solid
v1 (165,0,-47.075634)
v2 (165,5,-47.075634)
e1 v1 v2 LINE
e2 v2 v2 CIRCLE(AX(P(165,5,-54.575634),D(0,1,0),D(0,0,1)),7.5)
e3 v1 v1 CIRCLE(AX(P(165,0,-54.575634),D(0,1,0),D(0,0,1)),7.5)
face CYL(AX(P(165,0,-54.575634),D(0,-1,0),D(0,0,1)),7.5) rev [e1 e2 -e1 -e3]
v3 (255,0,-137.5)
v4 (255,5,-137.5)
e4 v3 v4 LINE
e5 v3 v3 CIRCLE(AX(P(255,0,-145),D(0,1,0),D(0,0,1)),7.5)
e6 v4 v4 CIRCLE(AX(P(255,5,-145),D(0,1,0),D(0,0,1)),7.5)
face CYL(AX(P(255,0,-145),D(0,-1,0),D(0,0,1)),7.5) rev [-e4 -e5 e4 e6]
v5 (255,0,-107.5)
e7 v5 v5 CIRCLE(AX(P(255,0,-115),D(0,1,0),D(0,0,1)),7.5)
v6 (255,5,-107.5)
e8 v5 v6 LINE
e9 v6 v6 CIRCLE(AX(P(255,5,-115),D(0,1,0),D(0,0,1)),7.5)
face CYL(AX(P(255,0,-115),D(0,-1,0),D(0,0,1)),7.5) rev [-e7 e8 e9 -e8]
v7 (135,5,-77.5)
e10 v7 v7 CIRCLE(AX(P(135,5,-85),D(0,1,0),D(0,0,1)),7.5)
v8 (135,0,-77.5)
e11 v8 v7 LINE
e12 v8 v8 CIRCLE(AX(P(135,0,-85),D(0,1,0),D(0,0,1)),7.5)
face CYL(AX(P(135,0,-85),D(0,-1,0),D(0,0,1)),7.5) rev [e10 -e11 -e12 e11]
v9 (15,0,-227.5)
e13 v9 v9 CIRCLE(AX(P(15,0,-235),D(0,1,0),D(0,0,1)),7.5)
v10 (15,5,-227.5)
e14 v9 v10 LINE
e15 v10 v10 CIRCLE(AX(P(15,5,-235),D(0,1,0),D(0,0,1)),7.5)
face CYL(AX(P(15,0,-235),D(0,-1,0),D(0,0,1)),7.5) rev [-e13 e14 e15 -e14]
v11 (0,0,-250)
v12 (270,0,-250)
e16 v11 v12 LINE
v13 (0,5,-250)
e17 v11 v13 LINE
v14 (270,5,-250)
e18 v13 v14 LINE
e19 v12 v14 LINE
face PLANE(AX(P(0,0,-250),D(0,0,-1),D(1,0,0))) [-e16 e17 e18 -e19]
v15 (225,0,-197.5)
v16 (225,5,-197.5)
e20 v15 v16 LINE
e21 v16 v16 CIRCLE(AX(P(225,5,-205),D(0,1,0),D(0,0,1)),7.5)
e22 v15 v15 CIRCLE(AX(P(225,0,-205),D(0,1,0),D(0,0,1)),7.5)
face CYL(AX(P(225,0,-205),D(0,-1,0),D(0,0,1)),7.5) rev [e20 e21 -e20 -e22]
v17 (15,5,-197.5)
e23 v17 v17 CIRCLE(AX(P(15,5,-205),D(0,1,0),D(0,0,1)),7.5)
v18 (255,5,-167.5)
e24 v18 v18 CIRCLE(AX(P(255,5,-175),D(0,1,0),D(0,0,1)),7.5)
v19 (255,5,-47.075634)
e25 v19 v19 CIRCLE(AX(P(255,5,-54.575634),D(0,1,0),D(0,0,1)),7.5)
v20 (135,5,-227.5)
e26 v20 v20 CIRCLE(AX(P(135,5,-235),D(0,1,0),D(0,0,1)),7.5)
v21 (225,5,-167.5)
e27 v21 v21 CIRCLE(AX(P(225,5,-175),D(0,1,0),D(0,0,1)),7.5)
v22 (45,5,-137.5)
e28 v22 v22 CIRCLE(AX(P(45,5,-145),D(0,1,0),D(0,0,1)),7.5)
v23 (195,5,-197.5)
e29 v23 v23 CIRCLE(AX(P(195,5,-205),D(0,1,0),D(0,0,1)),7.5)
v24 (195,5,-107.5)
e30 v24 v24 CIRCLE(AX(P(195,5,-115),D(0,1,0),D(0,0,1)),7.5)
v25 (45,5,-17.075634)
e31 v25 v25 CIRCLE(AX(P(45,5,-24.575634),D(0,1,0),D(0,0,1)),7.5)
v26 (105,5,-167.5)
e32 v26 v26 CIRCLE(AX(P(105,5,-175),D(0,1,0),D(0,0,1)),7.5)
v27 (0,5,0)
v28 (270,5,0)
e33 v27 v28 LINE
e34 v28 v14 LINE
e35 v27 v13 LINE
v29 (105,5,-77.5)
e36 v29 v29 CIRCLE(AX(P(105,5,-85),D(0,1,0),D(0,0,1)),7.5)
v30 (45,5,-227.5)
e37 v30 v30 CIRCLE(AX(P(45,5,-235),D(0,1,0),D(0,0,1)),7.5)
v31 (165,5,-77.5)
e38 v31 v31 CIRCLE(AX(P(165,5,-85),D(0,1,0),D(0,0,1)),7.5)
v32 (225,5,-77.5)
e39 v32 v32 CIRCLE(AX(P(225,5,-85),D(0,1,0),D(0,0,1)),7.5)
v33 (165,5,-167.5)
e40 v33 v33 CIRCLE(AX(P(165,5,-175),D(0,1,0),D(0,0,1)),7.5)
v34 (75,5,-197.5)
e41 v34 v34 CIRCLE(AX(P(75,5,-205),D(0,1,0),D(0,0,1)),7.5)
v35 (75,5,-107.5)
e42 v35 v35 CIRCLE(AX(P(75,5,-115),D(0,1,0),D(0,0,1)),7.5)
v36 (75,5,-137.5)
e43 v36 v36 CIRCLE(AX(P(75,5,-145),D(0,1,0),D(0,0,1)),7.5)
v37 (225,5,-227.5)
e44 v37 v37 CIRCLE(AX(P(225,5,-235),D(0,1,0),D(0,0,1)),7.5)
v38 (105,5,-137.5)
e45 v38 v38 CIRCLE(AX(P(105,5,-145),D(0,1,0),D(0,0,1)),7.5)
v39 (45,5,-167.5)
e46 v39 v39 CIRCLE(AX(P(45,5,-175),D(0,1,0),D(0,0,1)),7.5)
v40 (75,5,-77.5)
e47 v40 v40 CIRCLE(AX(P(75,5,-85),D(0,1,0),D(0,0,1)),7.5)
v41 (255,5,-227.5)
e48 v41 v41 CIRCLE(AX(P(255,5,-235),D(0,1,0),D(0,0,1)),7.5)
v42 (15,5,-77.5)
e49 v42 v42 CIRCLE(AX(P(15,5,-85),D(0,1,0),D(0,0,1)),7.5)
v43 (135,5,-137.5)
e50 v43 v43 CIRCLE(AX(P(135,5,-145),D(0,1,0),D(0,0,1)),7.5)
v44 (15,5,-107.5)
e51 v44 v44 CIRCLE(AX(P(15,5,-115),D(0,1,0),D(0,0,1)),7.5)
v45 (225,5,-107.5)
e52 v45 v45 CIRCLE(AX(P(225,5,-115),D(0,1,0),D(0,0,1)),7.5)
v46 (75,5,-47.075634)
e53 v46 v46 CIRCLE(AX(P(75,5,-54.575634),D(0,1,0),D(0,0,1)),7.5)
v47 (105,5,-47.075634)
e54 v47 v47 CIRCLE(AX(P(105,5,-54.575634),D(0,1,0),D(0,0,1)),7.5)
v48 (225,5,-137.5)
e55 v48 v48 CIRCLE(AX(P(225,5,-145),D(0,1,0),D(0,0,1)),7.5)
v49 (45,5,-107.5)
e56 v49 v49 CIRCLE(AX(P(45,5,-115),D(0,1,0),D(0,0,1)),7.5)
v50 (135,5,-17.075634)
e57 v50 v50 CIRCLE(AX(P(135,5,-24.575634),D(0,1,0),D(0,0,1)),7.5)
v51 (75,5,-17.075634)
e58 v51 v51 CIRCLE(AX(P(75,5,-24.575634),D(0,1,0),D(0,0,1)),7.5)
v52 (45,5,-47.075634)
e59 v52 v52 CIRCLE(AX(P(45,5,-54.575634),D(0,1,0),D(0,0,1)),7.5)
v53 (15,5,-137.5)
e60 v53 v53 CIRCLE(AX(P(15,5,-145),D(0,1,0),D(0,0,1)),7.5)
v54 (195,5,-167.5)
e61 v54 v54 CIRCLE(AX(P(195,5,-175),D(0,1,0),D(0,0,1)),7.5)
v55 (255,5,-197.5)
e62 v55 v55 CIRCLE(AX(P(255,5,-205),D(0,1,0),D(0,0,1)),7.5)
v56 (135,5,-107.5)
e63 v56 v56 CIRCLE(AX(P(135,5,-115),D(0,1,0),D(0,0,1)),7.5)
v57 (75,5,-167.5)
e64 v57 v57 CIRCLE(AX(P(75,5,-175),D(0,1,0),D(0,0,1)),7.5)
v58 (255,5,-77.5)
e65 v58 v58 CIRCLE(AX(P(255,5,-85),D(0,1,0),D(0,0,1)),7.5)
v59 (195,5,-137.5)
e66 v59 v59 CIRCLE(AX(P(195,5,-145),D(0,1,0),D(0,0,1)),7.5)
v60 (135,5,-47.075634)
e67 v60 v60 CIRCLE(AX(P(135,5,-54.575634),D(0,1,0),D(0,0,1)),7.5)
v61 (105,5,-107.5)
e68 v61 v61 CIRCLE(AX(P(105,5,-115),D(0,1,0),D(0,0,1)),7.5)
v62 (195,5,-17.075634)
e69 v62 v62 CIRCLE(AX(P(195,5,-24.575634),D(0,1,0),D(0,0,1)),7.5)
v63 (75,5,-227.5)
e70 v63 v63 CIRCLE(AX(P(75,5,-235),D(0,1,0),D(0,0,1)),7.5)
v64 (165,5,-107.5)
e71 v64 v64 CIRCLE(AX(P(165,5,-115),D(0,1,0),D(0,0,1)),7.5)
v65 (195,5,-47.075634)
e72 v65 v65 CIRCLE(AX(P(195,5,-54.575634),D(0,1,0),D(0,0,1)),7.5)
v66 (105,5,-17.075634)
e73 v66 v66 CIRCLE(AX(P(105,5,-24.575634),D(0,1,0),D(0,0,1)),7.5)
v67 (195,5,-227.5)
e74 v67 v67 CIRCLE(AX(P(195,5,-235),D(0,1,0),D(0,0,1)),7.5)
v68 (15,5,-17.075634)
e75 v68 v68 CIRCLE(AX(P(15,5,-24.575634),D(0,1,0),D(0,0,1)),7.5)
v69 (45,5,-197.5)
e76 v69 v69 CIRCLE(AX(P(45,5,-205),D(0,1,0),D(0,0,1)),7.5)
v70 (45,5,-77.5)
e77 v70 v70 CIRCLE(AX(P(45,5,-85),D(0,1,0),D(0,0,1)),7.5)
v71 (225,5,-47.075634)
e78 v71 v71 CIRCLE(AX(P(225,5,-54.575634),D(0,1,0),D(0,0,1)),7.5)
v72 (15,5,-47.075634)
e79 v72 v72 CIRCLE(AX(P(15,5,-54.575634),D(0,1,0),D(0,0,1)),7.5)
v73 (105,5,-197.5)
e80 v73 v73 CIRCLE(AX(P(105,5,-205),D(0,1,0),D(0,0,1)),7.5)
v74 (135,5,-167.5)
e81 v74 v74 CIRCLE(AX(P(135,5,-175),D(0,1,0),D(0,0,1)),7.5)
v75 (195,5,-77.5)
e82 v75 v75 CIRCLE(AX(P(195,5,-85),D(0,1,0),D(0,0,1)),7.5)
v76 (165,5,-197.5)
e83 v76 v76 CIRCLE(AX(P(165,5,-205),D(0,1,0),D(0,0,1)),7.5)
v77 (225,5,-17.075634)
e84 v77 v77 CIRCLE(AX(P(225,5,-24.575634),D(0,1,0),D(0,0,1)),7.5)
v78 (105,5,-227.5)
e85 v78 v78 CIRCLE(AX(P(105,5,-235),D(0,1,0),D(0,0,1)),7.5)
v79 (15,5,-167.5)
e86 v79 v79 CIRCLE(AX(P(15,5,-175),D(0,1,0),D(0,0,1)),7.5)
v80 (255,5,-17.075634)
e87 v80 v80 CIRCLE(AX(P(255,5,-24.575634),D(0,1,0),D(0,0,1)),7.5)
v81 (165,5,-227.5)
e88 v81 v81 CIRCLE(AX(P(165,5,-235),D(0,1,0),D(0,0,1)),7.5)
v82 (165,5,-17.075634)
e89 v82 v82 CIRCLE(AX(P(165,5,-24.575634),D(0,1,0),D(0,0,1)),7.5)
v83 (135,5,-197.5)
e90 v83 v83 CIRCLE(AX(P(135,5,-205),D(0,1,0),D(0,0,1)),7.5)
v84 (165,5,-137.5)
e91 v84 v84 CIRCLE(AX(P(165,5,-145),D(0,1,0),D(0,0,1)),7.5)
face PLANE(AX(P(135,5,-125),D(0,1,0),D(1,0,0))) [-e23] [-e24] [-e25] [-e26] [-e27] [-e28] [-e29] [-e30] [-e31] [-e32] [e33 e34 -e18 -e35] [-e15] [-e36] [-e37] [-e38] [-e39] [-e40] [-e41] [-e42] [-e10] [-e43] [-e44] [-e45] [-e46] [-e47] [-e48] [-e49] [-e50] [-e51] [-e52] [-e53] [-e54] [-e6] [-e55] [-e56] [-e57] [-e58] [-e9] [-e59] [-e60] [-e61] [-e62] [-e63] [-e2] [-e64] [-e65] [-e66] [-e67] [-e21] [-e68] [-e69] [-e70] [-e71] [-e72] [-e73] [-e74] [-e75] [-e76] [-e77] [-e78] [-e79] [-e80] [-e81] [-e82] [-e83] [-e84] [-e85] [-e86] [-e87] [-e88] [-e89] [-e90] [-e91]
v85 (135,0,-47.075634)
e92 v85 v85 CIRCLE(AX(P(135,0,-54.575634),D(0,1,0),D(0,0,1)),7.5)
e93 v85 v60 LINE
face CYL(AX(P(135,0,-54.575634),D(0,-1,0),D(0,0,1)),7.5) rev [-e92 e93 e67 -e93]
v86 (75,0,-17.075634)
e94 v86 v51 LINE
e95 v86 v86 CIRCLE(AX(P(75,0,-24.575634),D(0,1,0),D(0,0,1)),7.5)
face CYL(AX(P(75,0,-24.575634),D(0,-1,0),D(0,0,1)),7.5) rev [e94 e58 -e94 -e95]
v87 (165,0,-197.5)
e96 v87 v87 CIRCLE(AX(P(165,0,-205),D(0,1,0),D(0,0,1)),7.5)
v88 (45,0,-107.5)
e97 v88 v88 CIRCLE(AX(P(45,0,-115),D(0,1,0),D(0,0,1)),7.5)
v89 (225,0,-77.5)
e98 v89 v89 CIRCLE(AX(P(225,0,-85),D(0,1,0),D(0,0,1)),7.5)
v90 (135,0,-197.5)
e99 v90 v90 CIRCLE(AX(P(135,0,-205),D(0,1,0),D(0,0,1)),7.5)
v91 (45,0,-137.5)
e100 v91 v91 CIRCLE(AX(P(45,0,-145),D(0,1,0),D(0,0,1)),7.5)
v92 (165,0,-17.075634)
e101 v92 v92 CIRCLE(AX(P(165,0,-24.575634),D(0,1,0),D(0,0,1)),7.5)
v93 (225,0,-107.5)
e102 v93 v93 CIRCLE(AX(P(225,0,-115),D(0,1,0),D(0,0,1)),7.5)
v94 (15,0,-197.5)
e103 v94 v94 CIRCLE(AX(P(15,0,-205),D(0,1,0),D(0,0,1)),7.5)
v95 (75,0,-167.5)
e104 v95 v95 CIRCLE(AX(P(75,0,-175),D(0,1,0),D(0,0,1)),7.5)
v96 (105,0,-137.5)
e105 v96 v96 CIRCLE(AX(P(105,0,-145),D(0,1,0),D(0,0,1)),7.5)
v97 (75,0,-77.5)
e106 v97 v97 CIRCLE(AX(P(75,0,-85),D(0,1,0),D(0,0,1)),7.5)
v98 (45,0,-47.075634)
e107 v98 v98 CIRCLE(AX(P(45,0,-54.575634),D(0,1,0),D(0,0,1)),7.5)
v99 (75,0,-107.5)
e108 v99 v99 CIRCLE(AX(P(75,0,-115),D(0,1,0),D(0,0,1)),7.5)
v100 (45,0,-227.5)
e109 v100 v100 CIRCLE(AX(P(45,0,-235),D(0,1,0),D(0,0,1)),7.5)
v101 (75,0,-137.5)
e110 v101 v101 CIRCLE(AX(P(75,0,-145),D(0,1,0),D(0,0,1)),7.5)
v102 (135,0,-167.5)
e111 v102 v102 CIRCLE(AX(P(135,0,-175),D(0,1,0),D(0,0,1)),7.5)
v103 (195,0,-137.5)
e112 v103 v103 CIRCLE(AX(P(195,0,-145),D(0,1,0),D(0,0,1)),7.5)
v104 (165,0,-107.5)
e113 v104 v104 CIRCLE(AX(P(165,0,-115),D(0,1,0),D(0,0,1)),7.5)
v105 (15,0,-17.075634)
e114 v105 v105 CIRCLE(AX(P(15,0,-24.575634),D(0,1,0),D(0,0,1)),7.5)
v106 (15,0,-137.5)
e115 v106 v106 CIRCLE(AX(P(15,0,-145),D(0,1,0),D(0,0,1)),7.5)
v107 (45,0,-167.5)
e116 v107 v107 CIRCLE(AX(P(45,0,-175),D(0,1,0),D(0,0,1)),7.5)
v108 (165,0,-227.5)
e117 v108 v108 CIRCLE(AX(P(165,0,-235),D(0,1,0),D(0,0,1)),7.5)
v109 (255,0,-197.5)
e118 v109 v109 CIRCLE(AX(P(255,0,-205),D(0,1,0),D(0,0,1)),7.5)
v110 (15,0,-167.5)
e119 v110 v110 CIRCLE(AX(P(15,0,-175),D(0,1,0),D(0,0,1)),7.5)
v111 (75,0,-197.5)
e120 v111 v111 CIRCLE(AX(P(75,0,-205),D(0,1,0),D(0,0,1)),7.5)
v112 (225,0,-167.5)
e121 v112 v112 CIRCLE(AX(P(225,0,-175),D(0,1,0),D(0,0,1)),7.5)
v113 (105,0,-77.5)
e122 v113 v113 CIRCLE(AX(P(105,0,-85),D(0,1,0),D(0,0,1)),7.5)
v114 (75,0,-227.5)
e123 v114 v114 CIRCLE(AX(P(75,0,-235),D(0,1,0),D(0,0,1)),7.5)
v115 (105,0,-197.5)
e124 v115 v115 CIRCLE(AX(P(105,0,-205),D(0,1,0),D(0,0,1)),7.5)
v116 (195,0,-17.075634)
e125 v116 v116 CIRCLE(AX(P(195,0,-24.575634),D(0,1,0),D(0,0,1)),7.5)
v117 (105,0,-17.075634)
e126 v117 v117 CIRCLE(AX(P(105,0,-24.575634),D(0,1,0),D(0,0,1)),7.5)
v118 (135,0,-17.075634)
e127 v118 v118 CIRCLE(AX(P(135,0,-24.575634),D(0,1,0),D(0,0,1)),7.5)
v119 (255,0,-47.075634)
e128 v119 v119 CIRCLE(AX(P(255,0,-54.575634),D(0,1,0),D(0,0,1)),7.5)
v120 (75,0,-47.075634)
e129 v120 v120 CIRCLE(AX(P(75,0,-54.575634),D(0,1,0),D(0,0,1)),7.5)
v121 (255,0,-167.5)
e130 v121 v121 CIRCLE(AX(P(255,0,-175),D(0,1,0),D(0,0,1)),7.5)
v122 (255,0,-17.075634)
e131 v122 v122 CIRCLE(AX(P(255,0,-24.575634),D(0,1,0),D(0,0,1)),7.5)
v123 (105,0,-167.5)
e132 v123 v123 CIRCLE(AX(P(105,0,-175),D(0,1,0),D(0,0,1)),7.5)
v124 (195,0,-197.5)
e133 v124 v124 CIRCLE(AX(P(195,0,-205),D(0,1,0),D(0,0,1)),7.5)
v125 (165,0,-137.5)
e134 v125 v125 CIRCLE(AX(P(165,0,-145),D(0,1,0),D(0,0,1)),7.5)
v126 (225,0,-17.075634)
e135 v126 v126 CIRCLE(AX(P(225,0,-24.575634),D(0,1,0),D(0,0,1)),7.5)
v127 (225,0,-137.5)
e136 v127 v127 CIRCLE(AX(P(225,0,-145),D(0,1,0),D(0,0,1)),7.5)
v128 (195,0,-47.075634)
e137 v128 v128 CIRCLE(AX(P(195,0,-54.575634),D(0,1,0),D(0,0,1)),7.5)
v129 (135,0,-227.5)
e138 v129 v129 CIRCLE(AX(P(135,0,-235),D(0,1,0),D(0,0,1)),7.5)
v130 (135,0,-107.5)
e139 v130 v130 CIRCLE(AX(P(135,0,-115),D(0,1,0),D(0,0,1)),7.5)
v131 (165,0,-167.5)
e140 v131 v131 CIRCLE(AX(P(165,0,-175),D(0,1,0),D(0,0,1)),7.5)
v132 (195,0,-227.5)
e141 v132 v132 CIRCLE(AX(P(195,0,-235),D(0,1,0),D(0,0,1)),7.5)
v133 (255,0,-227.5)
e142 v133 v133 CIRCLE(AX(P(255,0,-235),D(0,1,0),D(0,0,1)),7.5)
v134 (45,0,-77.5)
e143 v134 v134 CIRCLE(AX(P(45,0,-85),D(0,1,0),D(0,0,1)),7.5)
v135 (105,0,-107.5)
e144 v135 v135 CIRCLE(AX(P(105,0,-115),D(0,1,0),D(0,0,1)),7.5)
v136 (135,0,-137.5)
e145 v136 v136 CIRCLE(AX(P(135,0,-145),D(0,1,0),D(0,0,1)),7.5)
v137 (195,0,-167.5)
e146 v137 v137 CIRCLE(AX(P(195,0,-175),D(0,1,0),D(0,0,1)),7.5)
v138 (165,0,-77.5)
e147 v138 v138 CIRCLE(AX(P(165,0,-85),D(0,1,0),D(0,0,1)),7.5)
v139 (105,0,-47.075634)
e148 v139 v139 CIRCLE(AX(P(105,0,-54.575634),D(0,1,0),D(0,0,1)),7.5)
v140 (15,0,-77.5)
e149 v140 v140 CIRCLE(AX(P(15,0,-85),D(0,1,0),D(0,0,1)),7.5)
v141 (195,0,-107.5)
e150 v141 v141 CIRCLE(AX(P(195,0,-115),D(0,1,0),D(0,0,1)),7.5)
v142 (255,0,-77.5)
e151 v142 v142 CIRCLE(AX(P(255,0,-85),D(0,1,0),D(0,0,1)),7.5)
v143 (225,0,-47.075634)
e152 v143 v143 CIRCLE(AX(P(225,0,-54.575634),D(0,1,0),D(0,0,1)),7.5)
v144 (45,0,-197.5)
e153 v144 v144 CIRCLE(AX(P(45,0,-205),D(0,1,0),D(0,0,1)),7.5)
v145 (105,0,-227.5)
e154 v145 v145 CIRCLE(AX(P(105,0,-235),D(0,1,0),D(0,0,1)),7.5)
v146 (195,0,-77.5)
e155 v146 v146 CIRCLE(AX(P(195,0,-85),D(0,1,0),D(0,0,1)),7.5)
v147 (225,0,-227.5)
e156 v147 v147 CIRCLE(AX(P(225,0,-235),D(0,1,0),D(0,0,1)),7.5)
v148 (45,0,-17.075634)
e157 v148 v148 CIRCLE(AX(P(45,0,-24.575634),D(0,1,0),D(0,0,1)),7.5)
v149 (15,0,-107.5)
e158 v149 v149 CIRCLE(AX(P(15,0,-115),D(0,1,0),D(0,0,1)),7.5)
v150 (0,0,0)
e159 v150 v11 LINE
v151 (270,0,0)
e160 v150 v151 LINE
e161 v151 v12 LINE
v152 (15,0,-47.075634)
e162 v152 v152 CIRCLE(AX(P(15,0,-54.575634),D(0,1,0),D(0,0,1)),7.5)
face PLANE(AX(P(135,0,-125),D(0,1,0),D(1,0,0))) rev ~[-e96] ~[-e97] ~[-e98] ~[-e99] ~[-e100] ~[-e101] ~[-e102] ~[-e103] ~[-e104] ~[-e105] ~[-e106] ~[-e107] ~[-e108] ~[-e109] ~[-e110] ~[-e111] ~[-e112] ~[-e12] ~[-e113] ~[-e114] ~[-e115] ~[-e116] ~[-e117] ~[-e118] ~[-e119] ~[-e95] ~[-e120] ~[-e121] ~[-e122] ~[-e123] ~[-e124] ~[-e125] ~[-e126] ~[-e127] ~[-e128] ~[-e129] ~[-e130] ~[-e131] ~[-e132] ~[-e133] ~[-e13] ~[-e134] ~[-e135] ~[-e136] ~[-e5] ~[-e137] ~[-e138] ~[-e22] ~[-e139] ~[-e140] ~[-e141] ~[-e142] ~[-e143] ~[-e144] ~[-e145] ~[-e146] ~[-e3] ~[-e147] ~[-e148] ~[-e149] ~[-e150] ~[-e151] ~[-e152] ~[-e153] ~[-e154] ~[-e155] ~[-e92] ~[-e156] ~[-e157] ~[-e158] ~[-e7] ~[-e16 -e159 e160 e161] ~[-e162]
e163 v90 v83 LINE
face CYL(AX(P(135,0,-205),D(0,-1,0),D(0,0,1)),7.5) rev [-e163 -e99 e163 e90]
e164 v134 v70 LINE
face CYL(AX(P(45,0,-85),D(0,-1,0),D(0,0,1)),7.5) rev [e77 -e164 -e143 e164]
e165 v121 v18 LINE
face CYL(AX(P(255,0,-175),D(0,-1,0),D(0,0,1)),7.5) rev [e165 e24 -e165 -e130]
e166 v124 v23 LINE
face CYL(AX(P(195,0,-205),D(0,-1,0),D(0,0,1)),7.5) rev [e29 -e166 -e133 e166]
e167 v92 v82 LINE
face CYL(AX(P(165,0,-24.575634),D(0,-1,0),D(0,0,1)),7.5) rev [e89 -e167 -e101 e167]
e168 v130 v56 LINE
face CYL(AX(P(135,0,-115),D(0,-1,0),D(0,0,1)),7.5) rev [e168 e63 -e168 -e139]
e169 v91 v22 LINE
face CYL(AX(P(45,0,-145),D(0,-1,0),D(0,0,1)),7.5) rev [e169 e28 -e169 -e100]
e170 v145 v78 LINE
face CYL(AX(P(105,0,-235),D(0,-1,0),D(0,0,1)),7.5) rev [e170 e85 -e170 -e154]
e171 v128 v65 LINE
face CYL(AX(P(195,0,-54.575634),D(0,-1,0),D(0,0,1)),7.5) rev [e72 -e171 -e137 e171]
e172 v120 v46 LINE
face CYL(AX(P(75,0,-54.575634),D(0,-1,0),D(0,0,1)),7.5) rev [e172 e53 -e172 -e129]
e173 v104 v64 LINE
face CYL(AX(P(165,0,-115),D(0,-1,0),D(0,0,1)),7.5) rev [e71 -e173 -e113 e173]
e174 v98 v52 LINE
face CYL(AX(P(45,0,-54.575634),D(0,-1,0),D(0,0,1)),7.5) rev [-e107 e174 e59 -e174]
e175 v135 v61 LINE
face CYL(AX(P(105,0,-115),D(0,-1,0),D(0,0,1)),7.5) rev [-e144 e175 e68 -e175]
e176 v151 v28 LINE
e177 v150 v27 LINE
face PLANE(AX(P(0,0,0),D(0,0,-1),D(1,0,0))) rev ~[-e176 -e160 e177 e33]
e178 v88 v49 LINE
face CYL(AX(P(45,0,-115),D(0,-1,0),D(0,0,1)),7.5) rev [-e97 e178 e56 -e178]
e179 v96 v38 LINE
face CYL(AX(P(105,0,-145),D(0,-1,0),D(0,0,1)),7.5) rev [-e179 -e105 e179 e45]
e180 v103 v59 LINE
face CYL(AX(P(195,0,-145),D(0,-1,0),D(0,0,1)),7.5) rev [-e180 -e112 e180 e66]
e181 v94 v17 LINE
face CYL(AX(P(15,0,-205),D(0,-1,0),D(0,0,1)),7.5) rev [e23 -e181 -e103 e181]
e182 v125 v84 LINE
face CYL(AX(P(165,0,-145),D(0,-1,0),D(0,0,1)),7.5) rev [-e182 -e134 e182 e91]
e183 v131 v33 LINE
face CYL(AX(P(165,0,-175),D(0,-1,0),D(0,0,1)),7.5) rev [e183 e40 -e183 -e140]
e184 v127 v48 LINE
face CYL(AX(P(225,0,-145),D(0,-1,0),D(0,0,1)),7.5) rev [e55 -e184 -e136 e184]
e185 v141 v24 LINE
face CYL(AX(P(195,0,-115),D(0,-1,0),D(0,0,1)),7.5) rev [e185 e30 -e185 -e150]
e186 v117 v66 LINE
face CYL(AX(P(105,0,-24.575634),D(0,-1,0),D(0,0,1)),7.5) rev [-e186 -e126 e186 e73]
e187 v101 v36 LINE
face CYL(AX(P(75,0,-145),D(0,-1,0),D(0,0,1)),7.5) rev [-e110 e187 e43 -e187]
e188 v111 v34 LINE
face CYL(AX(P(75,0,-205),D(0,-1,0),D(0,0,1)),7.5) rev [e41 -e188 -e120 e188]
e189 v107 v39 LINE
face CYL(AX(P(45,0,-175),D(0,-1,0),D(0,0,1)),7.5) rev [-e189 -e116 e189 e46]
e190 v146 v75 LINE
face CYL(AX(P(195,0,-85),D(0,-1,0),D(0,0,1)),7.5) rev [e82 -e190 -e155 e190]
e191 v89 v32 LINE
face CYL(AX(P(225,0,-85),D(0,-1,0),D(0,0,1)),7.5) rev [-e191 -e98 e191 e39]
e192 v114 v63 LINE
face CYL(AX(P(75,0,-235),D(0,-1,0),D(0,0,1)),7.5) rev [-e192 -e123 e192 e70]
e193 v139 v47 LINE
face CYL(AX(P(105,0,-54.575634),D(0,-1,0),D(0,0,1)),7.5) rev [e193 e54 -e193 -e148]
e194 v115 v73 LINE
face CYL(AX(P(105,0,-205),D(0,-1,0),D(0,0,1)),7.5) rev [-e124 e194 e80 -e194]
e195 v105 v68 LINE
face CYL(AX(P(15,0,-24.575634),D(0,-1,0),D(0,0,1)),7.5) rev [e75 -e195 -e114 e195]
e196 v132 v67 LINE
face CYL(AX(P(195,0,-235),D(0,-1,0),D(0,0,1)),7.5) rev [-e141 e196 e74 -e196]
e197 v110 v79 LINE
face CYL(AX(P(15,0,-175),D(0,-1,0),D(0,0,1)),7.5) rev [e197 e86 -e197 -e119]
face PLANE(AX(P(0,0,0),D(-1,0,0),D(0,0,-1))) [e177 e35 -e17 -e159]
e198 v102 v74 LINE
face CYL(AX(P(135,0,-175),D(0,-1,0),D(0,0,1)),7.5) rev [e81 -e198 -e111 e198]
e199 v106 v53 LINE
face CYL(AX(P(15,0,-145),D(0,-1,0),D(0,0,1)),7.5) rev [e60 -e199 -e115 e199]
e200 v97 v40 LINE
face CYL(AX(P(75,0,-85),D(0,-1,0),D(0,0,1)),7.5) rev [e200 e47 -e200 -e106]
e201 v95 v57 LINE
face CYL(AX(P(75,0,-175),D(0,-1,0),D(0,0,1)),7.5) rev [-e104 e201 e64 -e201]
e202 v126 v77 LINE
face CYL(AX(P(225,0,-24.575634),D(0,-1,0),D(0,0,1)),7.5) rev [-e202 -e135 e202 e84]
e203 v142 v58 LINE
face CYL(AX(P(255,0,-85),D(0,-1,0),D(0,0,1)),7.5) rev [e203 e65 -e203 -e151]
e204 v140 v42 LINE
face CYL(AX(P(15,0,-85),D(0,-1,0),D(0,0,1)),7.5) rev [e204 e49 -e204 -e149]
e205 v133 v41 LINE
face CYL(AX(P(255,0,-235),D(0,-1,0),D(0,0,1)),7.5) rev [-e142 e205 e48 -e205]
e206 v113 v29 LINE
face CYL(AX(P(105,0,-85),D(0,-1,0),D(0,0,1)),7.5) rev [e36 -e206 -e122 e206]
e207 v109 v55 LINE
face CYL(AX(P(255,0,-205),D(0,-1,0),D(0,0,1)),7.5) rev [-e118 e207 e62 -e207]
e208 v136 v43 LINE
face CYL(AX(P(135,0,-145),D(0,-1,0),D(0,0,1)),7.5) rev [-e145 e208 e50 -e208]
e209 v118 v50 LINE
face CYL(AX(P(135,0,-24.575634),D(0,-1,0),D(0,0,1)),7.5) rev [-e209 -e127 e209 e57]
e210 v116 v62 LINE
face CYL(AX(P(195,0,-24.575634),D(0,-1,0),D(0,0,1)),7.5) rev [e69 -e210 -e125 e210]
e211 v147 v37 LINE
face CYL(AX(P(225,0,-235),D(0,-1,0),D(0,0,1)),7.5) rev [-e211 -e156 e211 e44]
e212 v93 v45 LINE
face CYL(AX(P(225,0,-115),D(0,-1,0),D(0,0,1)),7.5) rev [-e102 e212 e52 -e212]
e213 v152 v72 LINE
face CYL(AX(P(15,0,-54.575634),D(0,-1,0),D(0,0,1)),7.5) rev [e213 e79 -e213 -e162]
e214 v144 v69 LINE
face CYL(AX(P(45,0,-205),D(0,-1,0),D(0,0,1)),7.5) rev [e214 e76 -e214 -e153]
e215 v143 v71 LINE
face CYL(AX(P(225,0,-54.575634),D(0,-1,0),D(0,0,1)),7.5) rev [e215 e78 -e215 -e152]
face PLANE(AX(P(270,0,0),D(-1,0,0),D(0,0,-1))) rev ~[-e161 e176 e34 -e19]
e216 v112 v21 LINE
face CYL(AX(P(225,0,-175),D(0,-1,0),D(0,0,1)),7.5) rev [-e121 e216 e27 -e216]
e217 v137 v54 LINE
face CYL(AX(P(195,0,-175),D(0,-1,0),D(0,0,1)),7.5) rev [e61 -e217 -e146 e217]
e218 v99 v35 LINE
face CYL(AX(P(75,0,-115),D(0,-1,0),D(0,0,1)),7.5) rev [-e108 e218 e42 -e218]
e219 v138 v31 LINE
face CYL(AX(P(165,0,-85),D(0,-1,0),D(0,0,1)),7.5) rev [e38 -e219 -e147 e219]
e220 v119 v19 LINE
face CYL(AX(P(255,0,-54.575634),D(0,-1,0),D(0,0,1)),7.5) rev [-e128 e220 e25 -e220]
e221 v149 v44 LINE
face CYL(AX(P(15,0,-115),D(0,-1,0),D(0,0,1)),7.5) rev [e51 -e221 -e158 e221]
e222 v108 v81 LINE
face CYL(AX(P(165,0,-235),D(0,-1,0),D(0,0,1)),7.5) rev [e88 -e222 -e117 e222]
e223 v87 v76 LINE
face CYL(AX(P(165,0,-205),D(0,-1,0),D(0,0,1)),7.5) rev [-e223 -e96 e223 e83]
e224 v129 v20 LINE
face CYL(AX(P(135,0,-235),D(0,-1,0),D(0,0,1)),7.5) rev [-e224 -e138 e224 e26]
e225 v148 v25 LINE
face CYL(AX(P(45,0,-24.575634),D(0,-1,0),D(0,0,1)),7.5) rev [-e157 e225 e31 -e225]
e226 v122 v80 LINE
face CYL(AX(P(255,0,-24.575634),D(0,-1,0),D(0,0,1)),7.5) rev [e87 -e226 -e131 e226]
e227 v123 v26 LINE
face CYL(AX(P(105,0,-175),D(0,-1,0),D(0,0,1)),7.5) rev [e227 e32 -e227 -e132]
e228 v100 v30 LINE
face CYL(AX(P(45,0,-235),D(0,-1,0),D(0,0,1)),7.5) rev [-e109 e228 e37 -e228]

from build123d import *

# Parameters (mm, degrees)
SKETCH1_W           = 270
SKETCH1_H           = 250
SKETCH1_R           = 7.5
BOSS_EXTRUDE1_DEPTH = 5


with BuildPart() as part:
    # Sketch1 → Boss-Extrude1 (new body)
    with BuildSketch(Plane(origin=(0, 0, 0), x_dir=(1, 0, 0), z_dir=(0, 1, 0))):
        with Locations((135, 125)):
            Rectangle(SKETCH1_W, SKETCH1_H)
        with Locations(Location((15, 235, 0), (0, 0, 270))):
            Circle(SKETCH1_R, mode=Mode.SUBTRACT)
        with Locations(Location((15, 205, 0), (0, 0, 270))):
            Circle(SKETCH1_R, mode=Mode.SUBTRACT)
        with Locations(Location((15, 175, 0), (0, 0, 270))):
            Circle(SKETCH1_R, mode=Mode.SUBTRACT)
        with Locations(Location((15, 145, 0), (0, 0, 270))):
            Circle(SKETCH1_R, mode=Mode.SUBTRACT)
        with Locations(Location((15, 115, 0), (0, 0, 270))):
            Circle(SKETCH1_R, mode=Mode.SUBTRACT)
        with Locations(Location((15, 85, 0), (0, 0, 270))):
            Circle(SKETCH1_R, mode=Mode.SUBTRACT)
        with Locations(Location((15, 54.575633612, 0), (0, 0, 270))):
            Circle(SKETCH1_R, mode=Mode.SUBTRACT)
        with Locations(Location((15, 24.575633612, 0), (0, 0, 270))):
            Circle(SKETCH1_R, mode=Mode.SUBTRACT)
        with Locations(Location((255, 175, 0), (0, 0, 270))):
            Circle(SKETCH1_R, mode=Mode.SUBTRACT)
        with Locations(Location((165, 205, 0), (0, 0, 270))):
            Circle(SKETCH1_R, mode=Mode.SUBTRACT)
        with Locations(Location((195, 205, 0), (0, 0, 270))):
            Circle(SKETCH1_R, mode=Mode.SUBTRACT)
        with Locations(Location((165, 235, 0), (0, 0, 270))):
            Circle(SKETCH1_R, mode=Mode.SUBTRACT)
        with Locations(Location((195, 235, 0), (0, 0, 270))):
            Circle(SKETCH1_R, mode=Mode.SUBTRACT)
        with Locations(Location((225, 205, 0), (0, 0, 270))):
            Circle(SKETCH1_R, mode=Mode.SUBTRACT)
        with Locations(Location((255, 205, 0), (0, 0, 270))):
            Circle(SKETCH1_R, mode=Mode.SUBTRACT)
        with Locations(Location((225, 235, 0), (0, 0, 270))):
            Circle(SKETCH1_R, mode=Mode.SUBTRACT)
        with Locations(Location((255, 235, 0), (0, 0, 270))):
            Circle(SKETCH1_R, mode=Mode.SUBTRACT)
        with Locations(Location((45, 24.575633612, 0), (0, 0, 270))):
            Circle(SKETCH1_R, mode=Mode.SUBTRACT)
        with Locations(Location((45, 54.575633612, 0), (0, 0, 270))):
            Circle(SKETCH1_R, mode=Mode.SUBTRACT)
        with Locations(Location((75, 24.575633612, 0), (0, 0, 270))):
            Circle(SKETCH1_R, mode=Mode.SUBTRACT)
        with Locations(Location((105, 24.575633612, 0), (0, 0, 270))):
            Circle(SKETCH1_R, mode=Mode.SUBTRACT)
        with Locations(Location((135, 24.575633612, 0), (0, 0, 270))):
            Circle(SKETCH1_R, mode=Mode.SUBTRACT)
        with Locations(Location((75, 54.575633612, 0), (0, 0, 270))):
            Circle(SKETCH1_R, mode=Mode.SUBTRACT)
        with Locations(Location((105, 54.575633612, 0), (0, 0, 270))):
            Circle(SKETCH1_R, mode=Mode.SUBTRACT)
        with Locations(Location((135, 54.575633612, 0), (0, 0, 270))):
            Circle(SKETCH1_R, mode=Mode.SUBTRACT)
        with Locations(Location((45, 85, 0), (0, 0, 270))):
            Circle(SKETCH1_R, mode=Mode.SUBTRACT)
        with Locations(Location((45, 115, 0), (0, 0, 270))):
            Circle(SKETCH1_R, mode=Mode.SUBTRACT)
        with Locations(Location((75, 85, 0), (0, 0, 270))):
            Circle(SKETCH1_R, mode=Mode.SUBTRACT)
        with Locations(Location((105, 85, 0), (0, 0, 270))):
            Circle(SKETCH1_R, mode=Mode.SUBTRACT)
        with Locations(Location((135, 85, 0), (0, 0, 270))):
            Circle(SKETCH1_R, mode=Mode.SUBTRACT)
        with Locations(Location((75, 115, 0), (0, 0, 270))):
            Circle(SKETCH1_R, mode=Mode.SUBTRACT)
        with Locations(Location((105, 115, 0), (0, 0, 270))):
            Circle(SKETCH1_R, mode=Mode.SUBTRACT)
        with Locations(Location((135, 115, 0), (0, 0, 270))):
            Circle(SKETCH1_R, mode=Mode.SUBTRACT)
        with Locations(Location((165, 24.575633612, 0), (0, 0, 270))):
            Circle(SKETCH1_R, mode=Mode.SUBTRACT)
        with Locations(Location((195, 24.575633612, 0), (0, 0, 270))):
            Circle(SKETCH1_R, mode=Mode.SUBTRACT)
        with Locations(Location((165, 54.575633612, 0), (0, 0, 270))):
            Circle(SKETCH1_R, mode=Mode.SUBTRACT)
        with Locations(Location((195, 54.575633612, 0), (0, 0, 270))):
            Circle(SKETCH1_R, mode=Mode.SUBTRACT)
        with Locations(Location((225, 24.575633612, 0), (0, 0, 270))):
            Circle(SKETCH1_R, mode=Mode.SUBTRACT)
        with Locations(Location((255, 24.575633612, 0), (0, 0, 270))):
            Circle(SKETCH1_R, mode=Mode.SUBTRACT)
        with Locations(Location((225, 54.575633612, 0), (0, 0, 270))):
            Circle(SKETCH1_R, mode=Mode.SUBTRACT)
        with Locations(Location((255, 54.575633612, 0), (0, 0, 270))):
            Circle(SKETCH1_R, mode=Mode.SUBTRACT)
        with Locations(Location((165, 85, 0), (0, 0, 270))):
            Circle(SKETCH1_R, mode=Mode.SUBTRACT)
        with Locations(Location((195, 85, 0), (0, 0, 270))):
            Circle(SKETCH1_R, mode=Mode.SUBTRACT)
        with Locations(Location((165, 115, 0), (0, 0, 270))):
            Circle(SKETCH1_R, mode=Mode.SUBTRACT)
        with Locations(Location((195, 115, 0), (0, 0, 270))):
            Circle(SKETCH1_R, mode=Mode.SUBTRACT)
        with Locations(Location((225, 85, 0), (0, 0, 270))):
            Circle(SKETCH1_R, mode=Mode.SUBTRACT)
        with Locations(Location((255, 85, 0), (0, 0, 270))):
            Circle(SKETCH1_R, mode=Mode.SUBTRACT)
        with Locations(Location((225, 115, 0), (0, 0, 270))):
            Circle(SKETCH1_R, mode=Mode.SUBTRACT)
        with Locations(Location((255, 115, 0), (0, 0, 270))):
            Circle(SKETCH1_R, mode=Mode.SUBTRACT)
        with Locations(Location((45, 145, 0), (0, 0, 270))):
            Circle(SKETCH1_R, mode=Mode.SUBTRACT)
        with Locations(Location((45, 175, 0), (0, 0, 270))):
            Circle(SKETCH1_R, mode=Mode.SUBTRACT)
        with Locations(Location((75, 145, 0), (0, 0, 270))):
            Circle(SKETCH1_R, mode=Mode.SUBTRACT)
        with Locations(Location((105, 145, 0), (0, 0, 270))):
            Circle(SKETCH1_R, mode=Mode.SUBTRACT)
        with Locations(Location((135, 145, 0), (0, 0, 270))):
            Circle(SKETCH1_R, mode=Mode.SUBTRACT)
        with Locations(Location((75, 175, 0), (0, 0, 270))):
            Circle(SKETCH1_R, mode=Mode.SUBTRACT)
        with Locations(Location((105, 175, 0), (0, 0, 270))):
            Circle(SKETCH1_R, mode=Mode.SUBTRACT)
        with Locations(Location((135, 175, 0), (0, 0, 270))):
            Circle(SKETCH1_R, mode=Mode.SUBTRACT)
        with Locations(Location((45, 205, 0), (0, 0, 270))):
            Circle(SKETCH1_R, mode=Mode.SUBTRACT)
        with Locations(Location((45, 235, 0), (0, 0, 270))):
            Circle(SKETCH1_R, mode=Mode.SUBTRACT)
        with Locations(Location((75, 205, 0), (0, 0, 270))):
            Circle(SKETCH1_R, mode=Mode.SUBTRACT)
        with Locations(Location((105, 205, 0), (0, 0, 270))):
            Circle(SKETCH1_R, mode=Mode.SUBTRACT)
        with Locations(Location((135, 205, 0), (0, 0, 270))):
            Circle(SKETCH1_R, mode=Mode.SUBTRACT)
        with Locations(Location((75, 235, 0), (0, 0, 270))):
            Circle(SKETCH1_R, mode=Mode.SUBTRACT)
        with Locations(Location((105, 235, 0), (0, 0, 270))):
            Circle(SKETCH1_R, mode=Mode.SUBTRACT)
        with Locations(Location((135, 235, 0), (0, 0, 270))):
            Circle(SKETCH1_R, mode=Mode.SUBTRACT)
        with Locations(Location((165, 145, 0), (0, 0, 270))):
            Circle(SKETCH1_R, mode=Mode.SUBTRACT)
        with Locations(Location((195, 145, 0), (0, 0, 270))):
            Circle(SKETCH1_R, mode=Mode.SUBTRACT)
        with Locations(Location((165, 175, 0), (0, 0, 270))):
            Circle(SKETCH1_R, mode=Mode.SUBTRACT)
        with Locations(Location((195, 175, 0), (0, 0, 270))):
            Circle(SKETCH1_R, mode=Mode.SUBTRACT)
        with Locations(Location((225, 145, 0), (0, 0, 270))):
            Circle(SKETCH1_R, mode=Mode.SUBTRACT)
        with Locations(Location((255, 145, 0), (0, 0, 270))):
            Circle(SKETCH1_R, mode=Mode.SUBTRACT)
        with Locations(Location((225, 175, 0), (0, 0, 270))):
            Circle(SKETCH1_R, mode=Mode.SUBTRACT)
    extrude(amount=BOSS_EXTRUDE1_DEPTH)


solid = part.part
